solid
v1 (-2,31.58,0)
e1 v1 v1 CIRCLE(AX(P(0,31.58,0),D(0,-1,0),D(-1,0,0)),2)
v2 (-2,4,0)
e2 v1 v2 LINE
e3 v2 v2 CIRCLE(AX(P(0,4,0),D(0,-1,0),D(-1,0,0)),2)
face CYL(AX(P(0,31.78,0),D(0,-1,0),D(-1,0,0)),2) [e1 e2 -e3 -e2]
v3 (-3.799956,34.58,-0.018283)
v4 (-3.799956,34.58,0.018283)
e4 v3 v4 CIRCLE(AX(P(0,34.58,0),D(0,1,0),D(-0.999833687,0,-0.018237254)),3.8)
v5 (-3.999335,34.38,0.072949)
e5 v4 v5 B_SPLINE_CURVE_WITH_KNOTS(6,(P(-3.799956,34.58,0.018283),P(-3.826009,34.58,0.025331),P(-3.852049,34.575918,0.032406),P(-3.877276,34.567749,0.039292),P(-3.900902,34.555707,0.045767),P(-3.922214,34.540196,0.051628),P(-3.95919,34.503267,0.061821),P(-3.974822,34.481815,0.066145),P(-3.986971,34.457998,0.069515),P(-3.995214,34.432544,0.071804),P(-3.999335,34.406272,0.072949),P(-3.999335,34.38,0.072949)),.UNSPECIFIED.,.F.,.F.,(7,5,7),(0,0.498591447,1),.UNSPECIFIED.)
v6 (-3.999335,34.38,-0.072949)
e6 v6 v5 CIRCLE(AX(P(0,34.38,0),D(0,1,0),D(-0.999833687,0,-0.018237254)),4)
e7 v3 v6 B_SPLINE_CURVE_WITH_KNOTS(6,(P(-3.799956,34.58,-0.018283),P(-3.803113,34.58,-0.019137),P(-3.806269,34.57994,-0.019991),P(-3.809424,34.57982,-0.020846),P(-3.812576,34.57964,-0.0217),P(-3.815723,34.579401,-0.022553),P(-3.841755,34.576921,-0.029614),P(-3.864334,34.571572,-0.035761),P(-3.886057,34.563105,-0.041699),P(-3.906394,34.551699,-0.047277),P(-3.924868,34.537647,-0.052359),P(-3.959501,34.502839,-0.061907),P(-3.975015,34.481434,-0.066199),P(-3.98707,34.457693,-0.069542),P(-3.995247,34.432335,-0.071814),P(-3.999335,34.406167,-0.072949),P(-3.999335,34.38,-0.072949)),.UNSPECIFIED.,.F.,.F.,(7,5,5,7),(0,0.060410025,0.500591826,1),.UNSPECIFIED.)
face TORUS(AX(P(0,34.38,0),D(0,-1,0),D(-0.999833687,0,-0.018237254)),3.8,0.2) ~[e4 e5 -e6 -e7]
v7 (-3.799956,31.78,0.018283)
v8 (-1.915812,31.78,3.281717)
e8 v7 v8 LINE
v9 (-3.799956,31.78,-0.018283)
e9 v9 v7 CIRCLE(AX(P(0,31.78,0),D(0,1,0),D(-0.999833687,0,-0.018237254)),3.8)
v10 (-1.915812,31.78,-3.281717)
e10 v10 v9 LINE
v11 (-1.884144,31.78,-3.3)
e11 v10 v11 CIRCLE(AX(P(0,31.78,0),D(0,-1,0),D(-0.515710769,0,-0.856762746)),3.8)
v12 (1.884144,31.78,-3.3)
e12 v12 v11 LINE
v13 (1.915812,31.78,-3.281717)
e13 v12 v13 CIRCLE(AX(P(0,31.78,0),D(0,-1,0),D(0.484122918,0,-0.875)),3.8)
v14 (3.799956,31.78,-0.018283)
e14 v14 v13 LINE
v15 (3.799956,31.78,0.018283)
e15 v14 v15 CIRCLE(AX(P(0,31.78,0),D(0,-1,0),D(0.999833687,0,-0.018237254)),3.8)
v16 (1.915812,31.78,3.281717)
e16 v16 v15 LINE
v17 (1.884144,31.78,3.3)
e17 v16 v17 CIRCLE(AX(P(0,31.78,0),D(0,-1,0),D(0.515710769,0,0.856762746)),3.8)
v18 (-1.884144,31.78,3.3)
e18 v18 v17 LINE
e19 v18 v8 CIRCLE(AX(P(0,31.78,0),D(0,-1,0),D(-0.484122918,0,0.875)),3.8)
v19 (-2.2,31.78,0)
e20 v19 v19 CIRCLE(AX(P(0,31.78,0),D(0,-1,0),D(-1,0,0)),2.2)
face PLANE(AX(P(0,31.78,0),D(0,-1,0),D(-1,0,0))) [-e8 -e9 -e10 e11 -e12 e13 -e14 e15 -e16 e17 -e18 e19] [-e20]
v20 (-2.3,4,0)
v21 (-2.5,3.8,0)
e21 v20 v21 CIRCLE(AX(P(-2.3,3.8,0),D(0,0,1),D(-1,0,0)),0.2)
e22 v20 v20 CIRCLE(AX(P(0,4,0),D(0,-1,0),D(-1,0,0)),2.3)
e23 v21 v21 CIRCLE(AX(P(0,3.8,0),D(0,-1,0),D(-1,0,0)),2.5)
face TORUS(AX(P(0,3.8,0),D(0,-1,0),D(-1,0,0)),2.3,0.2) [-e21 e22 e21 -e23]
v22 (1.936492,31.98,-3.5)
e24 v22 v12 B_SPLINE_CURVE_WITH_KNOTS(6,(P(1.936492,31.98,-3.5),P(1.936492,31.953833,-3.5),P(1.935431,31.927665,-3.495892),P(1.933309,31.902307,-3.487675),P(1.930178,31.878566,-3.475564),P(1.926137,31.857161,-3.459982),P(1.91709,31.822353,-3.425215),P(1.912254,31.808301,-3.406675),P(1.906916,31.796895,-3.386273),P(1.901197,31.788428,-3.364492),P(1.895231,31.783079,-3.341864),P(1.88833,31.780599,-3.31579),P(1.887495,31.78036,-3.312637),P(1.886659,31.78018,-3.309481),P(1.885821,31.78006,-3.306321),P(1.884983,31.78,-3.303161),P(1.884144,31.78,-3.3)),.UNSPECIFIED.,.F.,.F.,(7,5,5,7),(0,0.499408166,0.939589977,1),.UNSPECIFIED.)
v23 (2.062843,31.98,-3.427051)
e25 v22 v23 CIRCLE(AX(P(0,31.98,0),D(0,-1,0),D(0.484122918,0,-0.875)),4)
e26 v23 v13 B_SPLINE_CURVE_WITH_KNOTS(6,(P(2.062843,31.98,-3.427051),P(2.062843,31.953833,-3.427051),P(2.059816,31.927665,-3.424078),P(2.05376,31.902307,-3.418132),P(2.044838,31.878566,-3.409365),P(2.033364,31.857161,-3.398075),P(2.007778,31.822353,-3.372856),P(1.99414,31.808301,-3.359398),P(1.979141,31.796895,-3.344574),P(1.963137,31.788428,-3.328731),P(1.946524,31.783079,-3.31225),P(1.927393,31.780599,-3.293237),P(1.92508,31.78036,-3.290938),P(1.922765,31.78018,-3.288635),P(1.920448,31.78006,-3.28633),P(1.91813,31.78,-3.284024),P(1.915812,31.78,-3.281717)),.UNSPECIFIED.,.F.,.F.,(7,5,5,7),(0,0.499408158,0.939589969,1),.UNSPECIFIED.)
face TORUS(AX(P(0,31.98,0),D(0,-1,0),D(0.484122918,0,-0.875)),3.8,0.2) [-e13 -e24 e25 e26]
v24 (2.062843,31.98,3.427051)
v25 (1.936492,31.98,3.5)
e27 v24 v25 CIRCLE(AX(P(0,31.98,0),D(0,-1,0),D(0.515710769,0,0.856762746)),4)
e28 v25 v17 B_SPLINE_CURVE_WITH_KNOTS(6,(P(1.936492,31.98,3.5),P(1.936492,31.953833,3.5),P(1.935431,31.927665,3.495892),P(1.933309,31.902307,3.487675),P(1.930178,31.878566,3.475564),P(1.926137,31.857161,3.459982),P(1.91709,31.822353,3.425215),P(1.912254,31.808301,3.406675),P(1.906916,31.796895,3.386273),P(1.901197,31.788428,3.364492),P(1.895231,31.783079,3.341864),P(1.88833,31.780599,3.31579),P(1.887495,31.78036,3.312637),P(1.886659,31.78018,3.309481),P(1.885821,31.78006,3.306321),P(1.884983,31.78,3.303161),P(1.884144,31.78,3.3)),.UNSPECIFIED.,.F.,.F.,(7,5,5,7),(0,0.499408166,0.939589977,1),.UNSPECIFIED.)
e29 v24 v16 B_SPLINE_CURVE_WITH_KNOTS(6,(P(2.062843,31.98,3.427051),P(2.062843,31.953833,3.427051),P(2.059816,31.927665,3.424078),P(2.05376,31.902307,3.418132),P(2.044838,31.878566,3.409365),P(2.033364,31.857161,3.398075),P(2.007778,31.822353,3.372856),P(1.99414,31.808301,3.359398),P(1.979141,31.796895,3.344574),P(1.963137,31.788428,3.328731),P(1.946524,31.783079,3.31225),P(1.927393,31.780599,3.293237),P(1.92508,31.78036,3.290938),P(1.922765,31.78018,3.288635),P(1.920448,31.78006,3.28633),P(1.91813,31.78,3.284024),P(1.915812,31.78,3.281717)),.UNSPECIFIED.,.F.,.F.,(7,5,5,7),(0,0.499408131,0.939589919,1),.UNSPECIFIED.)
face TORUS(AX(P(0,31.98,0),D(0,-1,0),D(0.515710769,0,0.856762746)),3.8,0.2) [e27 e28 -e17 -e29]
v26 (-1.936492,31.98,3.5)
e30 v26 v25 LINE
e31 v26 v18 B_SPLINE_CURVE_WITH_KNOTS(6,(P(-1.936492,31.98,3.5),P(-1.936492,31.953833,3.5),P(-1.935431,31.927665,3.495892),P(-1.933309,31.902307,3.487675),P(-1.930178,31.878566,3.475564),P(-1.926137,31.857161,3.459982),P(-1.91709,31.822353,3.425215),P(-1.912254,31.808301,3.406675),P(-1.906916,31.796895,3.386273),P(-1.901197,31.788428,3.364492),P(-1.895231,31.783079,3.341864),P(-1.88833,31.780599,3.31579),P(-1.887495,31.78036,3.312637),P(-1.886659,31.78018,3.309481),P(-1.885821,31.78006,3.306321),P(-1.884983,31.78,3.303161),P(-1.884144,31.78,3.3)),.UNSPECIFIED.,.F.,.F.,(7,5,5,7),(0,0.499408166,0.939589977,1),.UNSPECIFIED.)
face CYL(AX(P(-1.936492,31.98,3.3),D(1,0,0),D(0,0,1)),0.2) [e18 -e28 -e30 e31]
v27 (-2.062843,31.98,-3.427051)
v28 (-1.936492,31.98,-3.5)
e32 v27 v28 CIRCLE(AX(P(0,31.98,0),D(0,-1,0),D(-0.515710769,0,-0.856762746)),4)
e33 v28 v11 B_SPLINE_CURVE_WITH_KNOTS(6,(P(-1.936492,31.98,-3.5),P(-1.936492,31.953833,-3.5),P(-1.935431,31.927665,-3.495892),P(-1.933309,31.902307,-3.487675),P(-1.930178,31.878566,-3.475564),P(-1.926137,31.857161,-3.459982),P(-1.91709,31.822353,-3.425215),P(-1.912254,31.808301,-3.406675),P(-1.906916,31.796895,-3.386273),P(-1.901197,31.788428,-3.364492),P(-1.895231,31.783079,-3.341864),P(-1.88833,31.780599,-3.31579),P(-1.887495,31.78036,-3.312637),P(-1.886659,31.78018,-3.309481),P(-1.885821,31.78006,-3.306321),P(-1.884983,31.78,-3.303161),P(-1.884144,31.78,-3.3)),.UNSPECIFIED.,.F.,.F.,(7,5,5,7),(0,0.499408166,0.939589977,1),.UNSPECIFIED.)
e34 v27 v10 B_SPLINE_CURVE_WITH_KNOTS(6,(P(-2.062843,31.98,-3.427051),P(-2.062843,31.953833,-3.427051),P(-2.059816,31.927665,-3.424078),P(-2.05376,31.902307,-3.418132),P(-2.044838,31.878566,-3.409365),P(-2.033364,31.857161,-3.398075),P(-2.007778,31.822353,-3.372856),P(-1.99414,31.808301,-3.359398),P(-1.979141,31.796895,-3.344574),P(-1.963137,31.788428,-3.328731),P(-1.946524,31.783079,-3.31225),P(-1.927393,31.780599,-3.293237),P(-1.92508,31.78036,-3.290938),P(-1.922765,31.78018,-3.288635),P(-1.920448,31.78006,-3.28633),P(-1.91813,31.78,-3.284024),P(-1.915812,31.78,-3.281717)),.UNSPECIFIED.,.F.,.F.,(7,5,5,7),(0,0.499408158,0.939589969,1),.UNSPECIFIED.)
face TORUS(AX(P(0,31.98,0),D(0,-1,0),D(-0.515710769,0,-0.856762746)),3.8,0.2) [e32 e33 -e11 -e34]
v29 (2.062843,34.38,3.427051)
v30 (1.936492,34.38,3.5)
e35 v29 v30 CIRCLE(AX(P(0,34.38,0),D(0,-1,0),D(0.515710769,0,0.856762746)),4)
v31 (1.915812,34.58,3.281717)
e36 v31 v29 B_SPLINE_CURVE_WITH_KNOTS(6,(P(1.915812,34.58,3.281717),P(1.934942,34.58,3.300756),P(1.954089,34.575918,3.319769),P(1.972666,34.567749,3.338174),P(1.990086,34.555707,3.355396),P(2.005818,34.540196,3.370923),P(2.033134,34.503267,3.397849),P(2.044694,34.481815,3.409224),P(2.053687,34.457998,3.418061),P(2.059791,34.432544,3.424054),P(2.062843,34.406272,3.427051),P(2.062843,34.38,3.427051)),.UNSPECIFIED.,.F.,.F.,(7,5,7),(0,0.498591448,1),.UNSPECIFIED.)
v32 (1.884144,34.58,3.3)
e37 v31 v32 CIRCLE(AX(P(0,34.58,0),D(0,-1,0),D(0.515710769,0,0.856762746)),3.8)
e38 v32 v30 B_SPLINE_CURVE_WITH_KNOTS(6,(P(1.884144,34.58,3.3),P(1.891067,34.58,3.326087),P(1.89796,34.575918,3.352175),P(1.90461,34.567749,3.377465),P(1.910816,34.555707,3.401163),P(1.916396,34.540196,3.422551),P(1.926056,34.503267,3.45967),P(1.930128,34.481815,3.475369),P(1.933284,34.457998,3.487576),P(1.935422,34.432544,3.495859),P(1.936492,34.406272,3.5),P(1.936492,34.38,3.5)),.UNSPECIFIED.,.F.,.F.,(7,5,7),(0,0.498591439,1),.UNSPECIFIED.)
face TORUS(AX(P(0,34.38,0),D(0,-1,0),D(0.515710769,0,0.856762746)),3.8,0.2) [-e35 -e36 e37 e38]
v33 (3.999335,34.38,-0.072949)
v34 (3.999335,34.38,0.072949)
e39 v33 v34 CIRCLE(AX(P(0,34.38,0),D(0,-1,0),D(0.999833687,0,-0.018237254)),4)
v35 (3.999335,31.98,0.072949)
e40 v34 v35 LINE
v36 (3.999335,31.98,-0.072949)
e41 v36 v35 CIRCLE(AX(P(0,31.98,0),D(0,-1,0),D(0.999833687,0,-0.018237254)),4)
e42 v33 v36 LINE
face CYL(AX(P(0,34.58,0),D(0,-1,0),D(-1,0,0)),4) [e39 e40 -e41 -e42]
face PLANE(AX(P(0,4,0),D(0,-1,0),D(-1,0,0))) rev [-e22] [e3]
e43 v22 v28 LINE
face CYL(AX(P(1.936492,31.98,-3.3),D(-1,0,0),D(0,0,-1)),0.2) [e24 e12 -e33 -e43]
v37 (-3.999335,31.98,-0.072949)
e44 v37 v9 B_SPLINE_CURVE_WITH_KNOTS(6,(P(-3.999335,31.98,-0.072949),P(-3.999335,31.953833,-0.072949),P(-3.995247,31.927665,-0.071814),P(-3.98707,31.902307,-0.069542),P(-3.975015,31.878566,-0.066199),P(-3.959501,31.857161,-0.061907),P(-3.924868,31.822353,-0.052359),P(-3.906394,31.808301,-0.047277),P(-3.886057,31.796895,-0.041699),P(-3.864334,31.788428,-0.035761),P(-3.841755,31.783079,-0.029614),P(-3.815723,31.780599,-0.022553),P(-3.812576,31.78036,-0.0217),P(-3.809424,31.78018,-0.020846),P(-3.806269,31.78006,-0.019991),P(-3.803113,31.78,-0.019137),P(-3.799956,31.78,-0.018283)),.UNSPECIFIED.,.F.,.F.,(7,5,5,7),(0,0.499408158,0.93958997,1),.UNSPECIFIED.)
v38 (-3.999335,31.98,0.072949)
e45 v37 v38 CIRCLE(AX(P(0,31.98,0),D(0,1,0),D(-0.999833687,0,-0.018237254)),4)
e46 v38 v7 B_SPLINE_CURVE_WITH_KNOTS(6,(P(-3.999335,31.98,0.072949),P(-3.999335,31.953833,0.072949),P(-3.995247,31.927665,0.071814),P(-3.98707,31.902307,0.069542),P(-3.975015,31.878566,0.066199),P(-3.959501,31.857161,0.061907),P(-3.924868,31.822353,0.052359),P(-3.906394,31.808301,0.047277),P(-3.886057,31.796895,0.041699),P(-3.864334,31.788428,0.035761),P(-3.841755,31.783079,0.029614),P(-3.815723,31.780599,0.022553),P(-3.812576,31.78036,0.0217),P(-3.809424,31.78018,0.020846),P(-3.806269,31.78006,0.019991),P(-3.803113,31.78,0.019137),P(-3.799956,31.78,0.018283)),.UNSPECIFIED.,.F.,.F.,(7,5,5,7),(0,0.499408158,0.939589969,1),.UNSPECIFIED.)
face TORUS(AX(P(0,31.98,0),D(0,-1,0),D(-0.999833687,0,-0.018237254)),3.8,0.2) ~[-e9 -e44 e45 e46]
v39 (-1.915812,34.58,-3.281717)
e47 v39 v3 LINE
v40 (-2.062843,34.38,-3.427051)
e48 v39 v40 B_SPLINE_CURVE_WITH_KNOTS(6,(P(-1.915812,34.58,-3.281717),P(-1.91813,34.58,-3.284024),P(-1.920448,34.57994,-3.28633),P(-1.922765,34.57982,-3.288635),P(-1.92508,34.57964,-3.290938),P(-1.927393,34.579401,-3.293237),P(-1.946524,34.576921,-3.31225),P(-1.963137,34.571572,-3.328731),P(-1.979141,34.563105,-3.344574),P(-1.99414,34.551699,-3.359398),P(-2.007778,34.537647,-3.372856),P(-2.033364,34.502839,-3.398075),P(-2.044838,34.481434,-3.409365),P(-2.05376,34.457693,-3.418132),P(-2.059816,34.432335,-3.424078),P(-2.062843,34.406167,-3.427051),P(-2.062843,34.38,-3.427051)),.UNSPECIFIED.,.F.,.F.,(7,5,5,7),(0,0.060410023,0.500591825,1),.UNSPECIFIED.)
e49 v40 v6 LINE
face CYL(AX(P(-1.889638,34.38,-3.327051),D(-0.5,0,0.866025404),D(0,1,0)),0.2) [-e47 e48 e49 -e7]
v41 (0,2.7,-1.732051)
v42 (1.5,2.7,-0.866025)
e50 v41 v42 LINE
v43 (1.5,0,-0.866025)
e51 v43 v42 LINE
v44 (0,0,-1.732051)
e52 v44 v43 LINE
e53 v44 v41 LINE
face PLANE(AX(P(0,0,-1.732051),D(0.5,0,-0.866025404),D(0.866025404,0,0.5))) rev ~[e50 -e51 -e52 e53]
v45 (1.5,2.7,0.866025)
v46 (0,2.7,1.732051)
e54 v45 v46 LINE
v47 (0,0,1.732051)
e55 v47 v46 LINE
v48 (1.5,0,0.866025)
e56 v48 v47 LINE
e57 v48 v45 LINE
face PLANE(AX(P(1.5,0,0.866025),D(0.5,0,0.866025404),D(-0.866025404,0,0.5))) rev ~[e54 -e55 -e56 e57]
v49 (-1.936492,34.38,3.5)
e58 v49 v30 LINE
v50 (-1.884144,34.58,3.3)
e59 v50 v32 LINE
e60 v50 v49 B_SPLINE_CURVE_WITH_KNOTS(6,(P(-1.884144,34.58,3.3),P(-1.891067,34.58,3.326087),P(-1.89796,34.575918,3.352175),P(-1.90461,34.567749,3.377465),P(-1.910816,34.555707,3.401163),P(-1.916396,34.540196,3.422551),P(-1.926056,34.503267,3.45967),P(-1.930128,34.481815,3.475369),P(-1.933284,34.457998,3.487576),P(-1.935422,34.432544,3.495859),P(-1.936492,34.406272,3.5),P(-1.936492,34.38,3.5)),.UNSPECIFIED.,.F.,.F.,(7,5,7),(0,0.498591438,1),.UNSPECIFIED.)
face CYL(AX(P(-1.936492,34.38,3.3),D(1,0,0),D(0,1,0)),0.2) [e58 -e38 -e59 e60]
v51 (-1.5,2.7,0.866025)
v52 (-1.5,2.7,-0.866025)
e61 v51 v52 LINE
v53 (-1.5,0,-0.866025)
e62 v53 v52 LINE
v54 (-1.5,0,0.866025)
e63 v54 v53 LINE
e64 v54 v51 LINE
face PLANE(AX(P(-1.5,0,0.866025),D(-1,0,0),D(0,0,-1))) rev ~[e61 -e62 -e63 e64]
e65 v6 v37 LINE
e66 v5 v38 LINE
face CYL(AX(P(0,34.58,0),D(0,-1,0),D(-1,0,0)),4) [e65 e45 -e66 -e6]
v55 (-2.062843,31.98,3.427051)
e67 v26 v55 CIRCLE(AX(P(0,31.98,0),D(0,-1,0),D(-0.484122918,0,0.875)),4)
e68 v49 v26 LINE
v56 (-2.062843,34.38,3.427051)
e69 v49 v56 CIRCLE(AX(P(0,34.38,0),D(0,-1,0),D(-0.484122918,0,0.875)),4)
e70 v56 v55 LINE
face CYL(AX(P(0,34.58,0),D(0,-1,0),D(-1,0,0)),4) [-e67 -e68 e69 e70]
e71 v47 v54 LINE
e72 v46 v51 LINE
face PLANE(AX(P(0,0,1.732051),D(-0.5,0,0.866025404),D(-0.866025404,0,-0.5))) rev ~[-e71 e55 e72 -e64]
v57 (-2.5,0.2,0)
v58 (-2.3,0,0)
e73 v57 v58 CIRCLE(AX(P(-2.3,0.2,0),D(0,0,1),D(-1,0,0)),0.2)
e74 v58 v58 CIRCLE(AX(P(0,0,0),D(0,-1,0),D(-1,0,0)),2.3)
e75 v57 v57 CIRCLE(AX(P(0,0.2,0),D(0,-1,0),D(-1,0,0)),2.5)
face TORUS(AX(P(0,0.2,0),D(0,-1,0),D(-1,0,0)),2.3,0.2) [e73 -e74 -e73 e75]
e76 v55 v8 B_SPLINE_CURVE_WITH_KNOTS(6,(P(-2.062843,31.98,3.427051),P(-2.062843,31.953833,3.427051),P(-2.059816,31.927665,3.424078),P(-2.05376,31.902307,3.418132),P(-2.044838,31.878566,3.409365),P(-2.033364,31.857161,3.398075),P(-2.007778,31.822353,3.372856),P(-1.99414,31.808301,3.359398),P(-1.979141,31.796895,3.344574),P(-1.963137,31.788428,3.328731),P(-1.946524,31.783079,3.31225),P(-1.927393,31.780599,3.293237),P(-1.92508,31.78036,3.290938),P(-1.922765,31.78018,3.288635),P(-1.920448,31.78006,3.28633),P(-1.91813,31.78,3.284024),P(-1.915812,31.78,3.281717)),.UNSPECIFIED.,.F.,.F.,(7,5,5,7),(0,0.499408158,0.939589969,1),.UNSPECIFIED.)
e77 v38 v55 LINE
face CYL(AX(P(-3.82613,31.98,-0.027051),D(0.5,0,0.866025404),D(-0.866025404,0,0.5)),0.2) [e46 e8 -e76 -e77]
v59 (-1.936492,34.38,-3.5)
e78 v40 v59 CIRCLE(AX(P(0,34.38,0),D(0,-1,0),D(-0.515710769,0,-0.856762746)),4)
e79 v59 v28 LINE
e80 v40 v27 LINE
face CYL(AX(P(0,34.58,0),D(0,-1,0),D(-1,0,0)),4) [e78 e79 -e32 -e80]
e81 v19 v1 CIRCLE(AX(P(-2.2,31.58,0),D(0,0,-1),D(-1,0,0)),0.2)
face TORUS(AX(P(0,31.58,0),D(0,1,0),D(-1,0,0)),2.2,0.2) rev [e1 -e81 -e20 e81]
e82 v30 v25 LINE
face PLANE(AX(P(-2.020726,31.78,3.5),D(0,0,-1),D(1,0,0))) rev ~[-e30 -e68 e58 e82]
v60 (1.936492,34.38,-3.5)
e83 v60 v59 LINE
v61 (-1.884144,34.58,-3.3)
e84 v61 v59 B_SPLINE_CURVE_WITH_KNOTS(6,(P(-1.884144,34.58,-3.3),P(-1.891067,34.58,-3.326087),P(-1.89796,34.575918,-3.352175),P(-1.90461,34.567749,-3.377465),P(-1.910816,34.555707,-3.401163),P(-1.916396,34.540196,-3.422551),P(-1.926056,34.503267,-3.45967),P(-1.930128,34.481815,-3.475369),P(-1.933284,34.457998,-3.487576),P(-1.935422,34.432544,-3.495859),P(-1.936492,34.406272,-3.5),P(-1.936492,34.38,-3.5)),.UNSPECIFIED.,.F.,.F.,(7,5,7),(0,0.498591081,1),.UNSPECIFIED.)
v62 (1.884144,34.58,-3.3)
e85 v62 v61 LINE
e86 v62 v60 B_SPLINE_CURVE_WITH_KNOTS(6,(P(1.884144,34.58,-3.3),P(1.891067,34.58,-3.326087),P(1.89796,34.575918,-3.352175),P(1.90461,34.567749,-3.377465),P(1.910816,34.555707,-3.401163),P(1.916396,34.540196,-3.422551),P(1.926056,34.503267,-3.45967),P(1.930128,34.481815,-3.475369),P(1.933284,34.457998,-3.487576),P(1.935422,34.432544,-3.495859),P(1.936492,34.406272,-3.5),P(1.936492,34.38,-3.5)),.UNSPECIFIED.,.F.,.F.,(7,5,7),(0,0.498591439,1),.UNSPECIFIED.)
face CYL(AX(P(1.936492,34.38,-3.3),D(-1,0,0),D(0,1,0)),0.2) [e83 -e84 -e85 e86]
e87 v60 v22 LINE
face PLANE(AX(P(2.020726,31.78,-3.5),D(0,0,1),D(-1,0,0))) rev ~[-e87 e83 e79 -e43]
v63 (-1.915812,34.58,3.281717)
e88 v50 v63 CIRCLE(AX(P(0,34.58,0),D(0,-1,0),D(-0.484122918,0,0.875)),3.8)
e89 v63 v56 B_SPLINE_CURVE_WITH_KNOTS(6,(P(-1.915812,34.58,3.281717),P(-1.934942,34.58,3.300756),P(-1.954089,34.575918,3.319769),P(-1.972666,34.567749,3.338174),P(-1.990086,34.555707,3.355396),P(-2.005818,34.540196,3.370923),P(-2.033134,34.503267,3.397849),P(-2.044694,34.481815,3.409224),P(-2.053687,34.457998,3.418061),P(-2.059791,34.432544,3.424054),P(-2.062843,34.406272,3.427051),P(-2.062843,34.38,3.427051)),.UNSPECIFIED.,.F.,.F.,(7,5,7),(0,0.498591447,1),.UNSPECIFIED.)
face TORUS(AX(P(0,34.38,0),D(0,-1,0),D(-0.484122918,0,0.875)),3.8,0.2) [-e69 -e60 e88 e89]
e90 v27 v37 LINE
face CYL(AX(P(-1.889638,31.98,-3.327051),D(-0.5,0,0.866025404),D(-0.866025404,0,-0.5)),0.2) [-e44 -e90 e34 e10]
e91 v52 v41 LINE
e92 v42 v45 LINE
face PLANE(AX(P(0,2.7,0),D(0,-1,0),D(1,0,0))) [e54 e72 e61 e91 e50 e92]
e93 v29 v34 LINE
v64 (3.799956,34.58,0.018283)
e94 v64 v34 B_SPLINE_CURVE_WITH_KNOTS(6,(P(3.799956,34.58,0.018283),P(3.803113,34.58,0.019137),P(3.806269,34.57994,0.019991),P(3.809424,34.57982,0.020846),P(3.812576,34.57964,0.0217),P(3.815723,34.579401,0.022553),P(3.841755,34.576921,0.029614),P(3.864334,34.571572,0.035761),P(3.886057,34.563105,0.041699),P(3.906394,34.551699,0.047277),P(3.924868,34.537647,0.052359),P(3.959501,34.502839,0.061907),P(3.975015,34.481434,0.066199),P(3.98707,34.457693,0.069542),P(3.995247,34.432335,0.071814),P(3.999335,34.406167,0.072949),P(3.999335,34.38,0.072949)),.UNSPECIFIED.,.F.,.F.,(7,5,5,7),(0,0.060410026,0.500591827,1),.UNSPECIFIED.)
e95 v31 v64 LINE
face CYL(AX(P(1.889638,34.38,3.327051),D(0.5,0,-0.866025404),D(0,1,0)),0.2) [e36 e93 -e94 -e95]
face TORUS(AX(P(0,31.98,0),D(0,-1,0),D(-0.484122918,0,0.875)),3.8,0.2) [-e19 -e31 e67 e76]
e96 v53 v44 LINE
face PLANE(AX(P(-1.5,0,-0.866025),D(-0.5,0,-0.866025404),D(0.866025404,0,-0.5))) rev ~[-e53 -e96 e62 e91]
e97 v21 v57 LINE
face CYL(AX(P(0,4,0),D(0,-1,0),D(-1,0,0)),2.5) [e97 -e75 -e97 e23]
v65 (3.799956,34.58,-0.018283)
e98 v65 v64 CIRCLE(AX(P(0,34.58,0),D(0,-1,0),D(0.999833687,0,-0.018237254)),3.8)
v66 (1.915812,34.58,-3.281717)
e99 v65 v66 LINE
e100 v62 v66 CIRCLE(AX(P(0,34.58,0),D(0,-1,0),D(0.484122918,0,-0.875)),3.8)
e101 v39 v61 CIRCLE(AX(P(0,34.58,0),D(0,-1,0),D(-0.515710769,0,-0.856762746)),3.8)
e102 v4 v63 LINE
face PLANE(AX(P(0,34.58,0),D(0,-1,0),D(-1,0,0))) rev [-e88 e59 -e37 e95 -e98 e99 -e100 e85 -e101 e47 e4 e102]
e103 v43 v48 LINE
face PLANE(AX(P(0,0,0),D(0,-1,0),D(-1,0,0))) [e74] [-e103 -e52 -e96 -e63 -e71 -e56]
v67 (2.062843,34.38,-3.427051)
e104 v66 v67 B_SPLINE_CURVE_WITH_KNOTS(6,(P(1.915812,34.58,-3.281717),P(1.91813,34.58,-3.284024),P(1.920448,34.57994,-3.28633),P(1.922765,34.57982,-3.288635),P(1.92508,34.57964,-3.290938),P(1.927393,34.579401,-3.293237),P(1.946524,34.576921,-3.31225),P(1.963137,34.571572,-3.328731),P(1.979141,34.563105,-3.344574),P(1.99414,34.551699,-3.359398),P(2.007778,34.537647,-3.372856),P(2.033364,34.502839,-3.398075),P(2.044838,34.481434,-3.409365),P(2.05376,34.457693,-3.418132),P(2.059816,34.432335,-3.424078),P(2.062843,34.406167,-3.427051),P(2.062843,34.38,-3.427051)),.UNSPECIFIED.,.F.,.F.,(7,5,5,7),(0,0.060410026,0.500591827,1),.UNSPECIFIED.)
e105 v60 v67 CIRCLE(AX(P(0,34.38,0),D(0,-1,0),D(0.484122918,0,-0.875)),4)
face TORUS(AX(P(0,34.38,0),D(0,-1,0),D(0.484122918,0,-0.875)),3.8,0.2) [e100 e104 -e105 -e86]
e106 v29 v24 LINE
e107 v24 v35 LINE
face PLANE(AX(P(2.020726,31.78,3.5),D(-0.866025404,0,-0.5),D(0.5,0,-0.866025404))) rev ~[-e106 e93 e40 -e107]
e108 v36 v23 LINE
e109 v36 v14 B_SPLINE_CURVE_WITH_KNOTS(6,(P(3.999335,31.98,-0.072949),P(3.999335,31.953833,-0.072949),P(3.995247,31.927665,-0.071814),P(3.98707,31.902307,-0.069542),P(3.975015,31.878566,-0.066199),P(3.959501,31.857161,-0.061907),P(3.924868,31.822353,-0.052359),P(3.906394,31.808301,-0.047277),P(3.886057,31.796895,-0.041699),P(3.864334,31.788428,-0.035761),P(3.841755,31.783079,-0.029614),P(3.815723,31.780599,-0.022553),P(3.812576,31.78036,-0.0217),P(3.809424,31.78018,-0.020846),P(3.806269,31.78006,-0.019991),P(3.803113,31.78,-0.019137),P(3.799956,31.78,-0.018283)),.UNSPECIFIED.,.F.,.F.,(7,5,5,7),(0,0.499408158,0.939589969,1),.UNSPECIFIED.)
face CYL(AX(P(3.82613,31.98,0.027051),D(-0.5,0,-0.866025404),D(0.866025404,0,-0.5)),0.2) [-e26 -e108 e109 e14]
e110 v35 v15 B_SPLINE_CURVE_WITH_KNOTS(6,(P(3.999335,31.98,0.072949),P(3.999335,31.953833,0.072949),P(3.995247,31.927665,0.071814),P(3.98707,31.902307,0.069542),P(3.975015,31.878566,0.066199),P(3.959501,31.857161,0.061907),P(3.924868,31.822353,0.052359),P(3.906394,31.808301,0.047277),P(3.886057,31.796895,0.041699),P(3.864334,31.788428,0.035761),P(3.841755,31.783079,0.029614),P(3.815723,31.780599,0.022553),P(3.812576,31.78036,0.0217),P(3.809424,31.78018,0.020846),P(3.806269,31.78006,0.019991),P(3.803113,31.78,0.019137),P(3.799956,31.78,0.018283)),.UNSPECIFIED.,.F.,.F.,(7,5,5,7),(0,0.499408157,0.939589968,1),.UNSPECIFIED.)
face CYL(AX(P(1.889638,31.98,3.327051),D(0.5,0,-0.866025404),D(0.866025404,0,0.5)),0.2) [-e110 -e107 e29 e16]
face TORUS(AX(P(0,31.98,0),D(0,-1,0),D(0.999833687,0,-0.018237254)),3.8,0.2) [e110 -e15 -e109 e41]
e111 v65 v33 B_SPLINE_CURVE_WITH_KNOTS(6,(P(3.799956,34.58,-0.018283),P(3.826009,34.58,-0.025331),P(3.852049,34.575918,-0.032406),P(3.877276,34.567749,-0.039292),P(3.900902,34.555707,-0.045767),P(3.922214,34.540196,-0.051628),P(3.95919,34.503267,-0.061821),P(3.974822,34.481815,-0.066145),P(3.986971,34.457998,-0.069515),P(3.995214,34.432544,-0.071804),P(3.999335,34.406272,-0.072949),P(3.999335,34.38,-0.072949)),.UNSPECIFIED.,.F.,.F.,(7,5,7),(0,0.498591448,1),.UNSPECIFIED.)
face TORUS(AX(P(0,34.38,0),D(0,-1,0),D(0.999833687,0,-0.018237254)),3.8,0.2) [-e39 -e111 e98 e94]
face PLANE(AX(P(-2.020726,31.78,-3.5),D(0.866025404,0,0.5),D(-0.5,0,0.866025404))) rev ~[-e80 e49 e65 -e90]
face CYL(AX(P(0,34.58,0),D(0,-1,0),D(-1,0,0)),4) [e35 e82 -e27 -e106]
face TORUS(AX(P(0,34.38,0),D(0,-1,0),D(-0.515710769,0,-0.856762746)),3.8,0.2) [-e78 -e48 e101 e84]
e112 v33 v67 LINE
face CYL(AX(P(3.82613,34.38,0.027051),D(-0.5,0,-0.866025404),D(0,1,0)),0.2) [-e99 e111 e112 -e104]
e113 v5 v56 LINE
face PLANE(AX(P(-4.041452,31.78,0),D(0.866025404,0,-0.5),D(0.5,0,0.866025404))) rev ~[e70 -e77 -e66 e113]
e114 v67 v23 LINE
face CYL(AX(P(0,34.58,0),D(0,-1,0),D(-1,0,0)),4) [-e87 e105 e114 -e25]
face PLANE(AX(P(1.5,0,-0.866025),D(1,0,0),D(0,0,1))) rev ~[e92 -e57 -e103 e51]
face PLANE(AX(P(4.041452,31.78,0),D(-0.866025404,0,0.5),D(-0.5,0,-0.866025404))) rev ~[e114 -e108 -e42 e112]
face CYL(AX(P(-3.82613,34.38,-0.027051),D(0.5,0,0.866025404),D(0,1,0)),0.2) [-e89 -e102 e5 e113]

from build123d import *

# Parameters (mm, degrees)
CUT_EXTRUDE2_START = -2.8
SKETCH2_R          = 4.777548175
CUT_EXTRUDE2_DEPTH = 2.8
CUT_EXTRUDE3_DEPTH = 2.7
FILLET1_R          = 0.2


with BuildPart() as part:
    # Sketch1 → Revolve1 (revolve)
    with BuildSketch(Plane.XY):
        Polygon((0, 34.58), (-4, 34.58), (-4, 31.78), (-2, 31.78), (-2, 4), (-2.5, 4), (-2.5, 0), (0, 0), align=None)
    revolve(axis=Axis((0, 37.671641791, 0), (0, -1, 0)))

    # Sketch2 → Cut-Extrude2 (cut)
    with BuildSketch(Plane(origin=(0, 34.58, 0), x_dir=(1, 0, 0), z_dir=(0, 1, 0)).offset(CUT_EXTRUDE2_START)):
        Circle(SKETCH2_R)
        Polygon((-4.041451884, 0), (-2.020725942, -3.5), (2.020725942, -3.5), (4.041451884, 0), (2.020725942, 3.5), (-2.020725942, 3.5), align=None, mode=Mode.SUBTRACT)
    extrude(amount=CUT_EXTRUDE2_DEPTH, mode=Mode.SUBTRACT)

    # Sketch3 → Cut-Extrude3 (cut)
    with BuildSketch(Plane.XZ):
        Polygon((0, 1.732050808), (-1.5, 0.866025404), (-1.5, -0.866025404), (0, -1.732050808), (1.5, -0.866025404), (1.5, 0.866025404), align=None)
    extrude(amount=-CUT_EXTRUDE3_DEPTH, mode=Mode.SUBTRACT)

    # Fillet1
    fillet1_edges = [part.edges().sort_by_distance(p)[0] for p in [
        (4, 31.78, 0),
        (2, 31.78, -3.464101615),
        (-2, 31.78, -3.464101615),
        (-4, 31.78, 0),
        (-2, 31.78, 3.464101615),
        (4, 34.58, 0),
        (2, 34.58, -3.464101615),
        (-2, 34.58, -3.464101615),
        (-4, 34.58, 0),
        (-2, 34.58, 3.464101615),
        (3.031088913, 34.58, -1.75),
        (3.031088913, 34.58, 1.75),
        (0, 34.58, 3.5),
        (-3.031088913, 34.58, 1.75),
        (-3.031088913, 34.58, -1.75),
        (0, 34.58, -3.5),
        (-3.031088913, 31.78, -1.75),
        (-3.031088913, 31.78, 1.75),
        (0, 31.78, 3.5),
        (3.031088913, 31.78, 1.75),
        (3.031088913, 31.78, -1.75),
        (0, 31.78, -3.5),
        (2.5, 0, 0),
        (2.5, 4, 0),
        (2, 31.78, 0),
        (2, 31.78, 3.464101615),
        (2, 34.58, 3.464101615),
    ]]
    fillet(fillet1_edges, radius=FILLET1_R)


solid = part.part
